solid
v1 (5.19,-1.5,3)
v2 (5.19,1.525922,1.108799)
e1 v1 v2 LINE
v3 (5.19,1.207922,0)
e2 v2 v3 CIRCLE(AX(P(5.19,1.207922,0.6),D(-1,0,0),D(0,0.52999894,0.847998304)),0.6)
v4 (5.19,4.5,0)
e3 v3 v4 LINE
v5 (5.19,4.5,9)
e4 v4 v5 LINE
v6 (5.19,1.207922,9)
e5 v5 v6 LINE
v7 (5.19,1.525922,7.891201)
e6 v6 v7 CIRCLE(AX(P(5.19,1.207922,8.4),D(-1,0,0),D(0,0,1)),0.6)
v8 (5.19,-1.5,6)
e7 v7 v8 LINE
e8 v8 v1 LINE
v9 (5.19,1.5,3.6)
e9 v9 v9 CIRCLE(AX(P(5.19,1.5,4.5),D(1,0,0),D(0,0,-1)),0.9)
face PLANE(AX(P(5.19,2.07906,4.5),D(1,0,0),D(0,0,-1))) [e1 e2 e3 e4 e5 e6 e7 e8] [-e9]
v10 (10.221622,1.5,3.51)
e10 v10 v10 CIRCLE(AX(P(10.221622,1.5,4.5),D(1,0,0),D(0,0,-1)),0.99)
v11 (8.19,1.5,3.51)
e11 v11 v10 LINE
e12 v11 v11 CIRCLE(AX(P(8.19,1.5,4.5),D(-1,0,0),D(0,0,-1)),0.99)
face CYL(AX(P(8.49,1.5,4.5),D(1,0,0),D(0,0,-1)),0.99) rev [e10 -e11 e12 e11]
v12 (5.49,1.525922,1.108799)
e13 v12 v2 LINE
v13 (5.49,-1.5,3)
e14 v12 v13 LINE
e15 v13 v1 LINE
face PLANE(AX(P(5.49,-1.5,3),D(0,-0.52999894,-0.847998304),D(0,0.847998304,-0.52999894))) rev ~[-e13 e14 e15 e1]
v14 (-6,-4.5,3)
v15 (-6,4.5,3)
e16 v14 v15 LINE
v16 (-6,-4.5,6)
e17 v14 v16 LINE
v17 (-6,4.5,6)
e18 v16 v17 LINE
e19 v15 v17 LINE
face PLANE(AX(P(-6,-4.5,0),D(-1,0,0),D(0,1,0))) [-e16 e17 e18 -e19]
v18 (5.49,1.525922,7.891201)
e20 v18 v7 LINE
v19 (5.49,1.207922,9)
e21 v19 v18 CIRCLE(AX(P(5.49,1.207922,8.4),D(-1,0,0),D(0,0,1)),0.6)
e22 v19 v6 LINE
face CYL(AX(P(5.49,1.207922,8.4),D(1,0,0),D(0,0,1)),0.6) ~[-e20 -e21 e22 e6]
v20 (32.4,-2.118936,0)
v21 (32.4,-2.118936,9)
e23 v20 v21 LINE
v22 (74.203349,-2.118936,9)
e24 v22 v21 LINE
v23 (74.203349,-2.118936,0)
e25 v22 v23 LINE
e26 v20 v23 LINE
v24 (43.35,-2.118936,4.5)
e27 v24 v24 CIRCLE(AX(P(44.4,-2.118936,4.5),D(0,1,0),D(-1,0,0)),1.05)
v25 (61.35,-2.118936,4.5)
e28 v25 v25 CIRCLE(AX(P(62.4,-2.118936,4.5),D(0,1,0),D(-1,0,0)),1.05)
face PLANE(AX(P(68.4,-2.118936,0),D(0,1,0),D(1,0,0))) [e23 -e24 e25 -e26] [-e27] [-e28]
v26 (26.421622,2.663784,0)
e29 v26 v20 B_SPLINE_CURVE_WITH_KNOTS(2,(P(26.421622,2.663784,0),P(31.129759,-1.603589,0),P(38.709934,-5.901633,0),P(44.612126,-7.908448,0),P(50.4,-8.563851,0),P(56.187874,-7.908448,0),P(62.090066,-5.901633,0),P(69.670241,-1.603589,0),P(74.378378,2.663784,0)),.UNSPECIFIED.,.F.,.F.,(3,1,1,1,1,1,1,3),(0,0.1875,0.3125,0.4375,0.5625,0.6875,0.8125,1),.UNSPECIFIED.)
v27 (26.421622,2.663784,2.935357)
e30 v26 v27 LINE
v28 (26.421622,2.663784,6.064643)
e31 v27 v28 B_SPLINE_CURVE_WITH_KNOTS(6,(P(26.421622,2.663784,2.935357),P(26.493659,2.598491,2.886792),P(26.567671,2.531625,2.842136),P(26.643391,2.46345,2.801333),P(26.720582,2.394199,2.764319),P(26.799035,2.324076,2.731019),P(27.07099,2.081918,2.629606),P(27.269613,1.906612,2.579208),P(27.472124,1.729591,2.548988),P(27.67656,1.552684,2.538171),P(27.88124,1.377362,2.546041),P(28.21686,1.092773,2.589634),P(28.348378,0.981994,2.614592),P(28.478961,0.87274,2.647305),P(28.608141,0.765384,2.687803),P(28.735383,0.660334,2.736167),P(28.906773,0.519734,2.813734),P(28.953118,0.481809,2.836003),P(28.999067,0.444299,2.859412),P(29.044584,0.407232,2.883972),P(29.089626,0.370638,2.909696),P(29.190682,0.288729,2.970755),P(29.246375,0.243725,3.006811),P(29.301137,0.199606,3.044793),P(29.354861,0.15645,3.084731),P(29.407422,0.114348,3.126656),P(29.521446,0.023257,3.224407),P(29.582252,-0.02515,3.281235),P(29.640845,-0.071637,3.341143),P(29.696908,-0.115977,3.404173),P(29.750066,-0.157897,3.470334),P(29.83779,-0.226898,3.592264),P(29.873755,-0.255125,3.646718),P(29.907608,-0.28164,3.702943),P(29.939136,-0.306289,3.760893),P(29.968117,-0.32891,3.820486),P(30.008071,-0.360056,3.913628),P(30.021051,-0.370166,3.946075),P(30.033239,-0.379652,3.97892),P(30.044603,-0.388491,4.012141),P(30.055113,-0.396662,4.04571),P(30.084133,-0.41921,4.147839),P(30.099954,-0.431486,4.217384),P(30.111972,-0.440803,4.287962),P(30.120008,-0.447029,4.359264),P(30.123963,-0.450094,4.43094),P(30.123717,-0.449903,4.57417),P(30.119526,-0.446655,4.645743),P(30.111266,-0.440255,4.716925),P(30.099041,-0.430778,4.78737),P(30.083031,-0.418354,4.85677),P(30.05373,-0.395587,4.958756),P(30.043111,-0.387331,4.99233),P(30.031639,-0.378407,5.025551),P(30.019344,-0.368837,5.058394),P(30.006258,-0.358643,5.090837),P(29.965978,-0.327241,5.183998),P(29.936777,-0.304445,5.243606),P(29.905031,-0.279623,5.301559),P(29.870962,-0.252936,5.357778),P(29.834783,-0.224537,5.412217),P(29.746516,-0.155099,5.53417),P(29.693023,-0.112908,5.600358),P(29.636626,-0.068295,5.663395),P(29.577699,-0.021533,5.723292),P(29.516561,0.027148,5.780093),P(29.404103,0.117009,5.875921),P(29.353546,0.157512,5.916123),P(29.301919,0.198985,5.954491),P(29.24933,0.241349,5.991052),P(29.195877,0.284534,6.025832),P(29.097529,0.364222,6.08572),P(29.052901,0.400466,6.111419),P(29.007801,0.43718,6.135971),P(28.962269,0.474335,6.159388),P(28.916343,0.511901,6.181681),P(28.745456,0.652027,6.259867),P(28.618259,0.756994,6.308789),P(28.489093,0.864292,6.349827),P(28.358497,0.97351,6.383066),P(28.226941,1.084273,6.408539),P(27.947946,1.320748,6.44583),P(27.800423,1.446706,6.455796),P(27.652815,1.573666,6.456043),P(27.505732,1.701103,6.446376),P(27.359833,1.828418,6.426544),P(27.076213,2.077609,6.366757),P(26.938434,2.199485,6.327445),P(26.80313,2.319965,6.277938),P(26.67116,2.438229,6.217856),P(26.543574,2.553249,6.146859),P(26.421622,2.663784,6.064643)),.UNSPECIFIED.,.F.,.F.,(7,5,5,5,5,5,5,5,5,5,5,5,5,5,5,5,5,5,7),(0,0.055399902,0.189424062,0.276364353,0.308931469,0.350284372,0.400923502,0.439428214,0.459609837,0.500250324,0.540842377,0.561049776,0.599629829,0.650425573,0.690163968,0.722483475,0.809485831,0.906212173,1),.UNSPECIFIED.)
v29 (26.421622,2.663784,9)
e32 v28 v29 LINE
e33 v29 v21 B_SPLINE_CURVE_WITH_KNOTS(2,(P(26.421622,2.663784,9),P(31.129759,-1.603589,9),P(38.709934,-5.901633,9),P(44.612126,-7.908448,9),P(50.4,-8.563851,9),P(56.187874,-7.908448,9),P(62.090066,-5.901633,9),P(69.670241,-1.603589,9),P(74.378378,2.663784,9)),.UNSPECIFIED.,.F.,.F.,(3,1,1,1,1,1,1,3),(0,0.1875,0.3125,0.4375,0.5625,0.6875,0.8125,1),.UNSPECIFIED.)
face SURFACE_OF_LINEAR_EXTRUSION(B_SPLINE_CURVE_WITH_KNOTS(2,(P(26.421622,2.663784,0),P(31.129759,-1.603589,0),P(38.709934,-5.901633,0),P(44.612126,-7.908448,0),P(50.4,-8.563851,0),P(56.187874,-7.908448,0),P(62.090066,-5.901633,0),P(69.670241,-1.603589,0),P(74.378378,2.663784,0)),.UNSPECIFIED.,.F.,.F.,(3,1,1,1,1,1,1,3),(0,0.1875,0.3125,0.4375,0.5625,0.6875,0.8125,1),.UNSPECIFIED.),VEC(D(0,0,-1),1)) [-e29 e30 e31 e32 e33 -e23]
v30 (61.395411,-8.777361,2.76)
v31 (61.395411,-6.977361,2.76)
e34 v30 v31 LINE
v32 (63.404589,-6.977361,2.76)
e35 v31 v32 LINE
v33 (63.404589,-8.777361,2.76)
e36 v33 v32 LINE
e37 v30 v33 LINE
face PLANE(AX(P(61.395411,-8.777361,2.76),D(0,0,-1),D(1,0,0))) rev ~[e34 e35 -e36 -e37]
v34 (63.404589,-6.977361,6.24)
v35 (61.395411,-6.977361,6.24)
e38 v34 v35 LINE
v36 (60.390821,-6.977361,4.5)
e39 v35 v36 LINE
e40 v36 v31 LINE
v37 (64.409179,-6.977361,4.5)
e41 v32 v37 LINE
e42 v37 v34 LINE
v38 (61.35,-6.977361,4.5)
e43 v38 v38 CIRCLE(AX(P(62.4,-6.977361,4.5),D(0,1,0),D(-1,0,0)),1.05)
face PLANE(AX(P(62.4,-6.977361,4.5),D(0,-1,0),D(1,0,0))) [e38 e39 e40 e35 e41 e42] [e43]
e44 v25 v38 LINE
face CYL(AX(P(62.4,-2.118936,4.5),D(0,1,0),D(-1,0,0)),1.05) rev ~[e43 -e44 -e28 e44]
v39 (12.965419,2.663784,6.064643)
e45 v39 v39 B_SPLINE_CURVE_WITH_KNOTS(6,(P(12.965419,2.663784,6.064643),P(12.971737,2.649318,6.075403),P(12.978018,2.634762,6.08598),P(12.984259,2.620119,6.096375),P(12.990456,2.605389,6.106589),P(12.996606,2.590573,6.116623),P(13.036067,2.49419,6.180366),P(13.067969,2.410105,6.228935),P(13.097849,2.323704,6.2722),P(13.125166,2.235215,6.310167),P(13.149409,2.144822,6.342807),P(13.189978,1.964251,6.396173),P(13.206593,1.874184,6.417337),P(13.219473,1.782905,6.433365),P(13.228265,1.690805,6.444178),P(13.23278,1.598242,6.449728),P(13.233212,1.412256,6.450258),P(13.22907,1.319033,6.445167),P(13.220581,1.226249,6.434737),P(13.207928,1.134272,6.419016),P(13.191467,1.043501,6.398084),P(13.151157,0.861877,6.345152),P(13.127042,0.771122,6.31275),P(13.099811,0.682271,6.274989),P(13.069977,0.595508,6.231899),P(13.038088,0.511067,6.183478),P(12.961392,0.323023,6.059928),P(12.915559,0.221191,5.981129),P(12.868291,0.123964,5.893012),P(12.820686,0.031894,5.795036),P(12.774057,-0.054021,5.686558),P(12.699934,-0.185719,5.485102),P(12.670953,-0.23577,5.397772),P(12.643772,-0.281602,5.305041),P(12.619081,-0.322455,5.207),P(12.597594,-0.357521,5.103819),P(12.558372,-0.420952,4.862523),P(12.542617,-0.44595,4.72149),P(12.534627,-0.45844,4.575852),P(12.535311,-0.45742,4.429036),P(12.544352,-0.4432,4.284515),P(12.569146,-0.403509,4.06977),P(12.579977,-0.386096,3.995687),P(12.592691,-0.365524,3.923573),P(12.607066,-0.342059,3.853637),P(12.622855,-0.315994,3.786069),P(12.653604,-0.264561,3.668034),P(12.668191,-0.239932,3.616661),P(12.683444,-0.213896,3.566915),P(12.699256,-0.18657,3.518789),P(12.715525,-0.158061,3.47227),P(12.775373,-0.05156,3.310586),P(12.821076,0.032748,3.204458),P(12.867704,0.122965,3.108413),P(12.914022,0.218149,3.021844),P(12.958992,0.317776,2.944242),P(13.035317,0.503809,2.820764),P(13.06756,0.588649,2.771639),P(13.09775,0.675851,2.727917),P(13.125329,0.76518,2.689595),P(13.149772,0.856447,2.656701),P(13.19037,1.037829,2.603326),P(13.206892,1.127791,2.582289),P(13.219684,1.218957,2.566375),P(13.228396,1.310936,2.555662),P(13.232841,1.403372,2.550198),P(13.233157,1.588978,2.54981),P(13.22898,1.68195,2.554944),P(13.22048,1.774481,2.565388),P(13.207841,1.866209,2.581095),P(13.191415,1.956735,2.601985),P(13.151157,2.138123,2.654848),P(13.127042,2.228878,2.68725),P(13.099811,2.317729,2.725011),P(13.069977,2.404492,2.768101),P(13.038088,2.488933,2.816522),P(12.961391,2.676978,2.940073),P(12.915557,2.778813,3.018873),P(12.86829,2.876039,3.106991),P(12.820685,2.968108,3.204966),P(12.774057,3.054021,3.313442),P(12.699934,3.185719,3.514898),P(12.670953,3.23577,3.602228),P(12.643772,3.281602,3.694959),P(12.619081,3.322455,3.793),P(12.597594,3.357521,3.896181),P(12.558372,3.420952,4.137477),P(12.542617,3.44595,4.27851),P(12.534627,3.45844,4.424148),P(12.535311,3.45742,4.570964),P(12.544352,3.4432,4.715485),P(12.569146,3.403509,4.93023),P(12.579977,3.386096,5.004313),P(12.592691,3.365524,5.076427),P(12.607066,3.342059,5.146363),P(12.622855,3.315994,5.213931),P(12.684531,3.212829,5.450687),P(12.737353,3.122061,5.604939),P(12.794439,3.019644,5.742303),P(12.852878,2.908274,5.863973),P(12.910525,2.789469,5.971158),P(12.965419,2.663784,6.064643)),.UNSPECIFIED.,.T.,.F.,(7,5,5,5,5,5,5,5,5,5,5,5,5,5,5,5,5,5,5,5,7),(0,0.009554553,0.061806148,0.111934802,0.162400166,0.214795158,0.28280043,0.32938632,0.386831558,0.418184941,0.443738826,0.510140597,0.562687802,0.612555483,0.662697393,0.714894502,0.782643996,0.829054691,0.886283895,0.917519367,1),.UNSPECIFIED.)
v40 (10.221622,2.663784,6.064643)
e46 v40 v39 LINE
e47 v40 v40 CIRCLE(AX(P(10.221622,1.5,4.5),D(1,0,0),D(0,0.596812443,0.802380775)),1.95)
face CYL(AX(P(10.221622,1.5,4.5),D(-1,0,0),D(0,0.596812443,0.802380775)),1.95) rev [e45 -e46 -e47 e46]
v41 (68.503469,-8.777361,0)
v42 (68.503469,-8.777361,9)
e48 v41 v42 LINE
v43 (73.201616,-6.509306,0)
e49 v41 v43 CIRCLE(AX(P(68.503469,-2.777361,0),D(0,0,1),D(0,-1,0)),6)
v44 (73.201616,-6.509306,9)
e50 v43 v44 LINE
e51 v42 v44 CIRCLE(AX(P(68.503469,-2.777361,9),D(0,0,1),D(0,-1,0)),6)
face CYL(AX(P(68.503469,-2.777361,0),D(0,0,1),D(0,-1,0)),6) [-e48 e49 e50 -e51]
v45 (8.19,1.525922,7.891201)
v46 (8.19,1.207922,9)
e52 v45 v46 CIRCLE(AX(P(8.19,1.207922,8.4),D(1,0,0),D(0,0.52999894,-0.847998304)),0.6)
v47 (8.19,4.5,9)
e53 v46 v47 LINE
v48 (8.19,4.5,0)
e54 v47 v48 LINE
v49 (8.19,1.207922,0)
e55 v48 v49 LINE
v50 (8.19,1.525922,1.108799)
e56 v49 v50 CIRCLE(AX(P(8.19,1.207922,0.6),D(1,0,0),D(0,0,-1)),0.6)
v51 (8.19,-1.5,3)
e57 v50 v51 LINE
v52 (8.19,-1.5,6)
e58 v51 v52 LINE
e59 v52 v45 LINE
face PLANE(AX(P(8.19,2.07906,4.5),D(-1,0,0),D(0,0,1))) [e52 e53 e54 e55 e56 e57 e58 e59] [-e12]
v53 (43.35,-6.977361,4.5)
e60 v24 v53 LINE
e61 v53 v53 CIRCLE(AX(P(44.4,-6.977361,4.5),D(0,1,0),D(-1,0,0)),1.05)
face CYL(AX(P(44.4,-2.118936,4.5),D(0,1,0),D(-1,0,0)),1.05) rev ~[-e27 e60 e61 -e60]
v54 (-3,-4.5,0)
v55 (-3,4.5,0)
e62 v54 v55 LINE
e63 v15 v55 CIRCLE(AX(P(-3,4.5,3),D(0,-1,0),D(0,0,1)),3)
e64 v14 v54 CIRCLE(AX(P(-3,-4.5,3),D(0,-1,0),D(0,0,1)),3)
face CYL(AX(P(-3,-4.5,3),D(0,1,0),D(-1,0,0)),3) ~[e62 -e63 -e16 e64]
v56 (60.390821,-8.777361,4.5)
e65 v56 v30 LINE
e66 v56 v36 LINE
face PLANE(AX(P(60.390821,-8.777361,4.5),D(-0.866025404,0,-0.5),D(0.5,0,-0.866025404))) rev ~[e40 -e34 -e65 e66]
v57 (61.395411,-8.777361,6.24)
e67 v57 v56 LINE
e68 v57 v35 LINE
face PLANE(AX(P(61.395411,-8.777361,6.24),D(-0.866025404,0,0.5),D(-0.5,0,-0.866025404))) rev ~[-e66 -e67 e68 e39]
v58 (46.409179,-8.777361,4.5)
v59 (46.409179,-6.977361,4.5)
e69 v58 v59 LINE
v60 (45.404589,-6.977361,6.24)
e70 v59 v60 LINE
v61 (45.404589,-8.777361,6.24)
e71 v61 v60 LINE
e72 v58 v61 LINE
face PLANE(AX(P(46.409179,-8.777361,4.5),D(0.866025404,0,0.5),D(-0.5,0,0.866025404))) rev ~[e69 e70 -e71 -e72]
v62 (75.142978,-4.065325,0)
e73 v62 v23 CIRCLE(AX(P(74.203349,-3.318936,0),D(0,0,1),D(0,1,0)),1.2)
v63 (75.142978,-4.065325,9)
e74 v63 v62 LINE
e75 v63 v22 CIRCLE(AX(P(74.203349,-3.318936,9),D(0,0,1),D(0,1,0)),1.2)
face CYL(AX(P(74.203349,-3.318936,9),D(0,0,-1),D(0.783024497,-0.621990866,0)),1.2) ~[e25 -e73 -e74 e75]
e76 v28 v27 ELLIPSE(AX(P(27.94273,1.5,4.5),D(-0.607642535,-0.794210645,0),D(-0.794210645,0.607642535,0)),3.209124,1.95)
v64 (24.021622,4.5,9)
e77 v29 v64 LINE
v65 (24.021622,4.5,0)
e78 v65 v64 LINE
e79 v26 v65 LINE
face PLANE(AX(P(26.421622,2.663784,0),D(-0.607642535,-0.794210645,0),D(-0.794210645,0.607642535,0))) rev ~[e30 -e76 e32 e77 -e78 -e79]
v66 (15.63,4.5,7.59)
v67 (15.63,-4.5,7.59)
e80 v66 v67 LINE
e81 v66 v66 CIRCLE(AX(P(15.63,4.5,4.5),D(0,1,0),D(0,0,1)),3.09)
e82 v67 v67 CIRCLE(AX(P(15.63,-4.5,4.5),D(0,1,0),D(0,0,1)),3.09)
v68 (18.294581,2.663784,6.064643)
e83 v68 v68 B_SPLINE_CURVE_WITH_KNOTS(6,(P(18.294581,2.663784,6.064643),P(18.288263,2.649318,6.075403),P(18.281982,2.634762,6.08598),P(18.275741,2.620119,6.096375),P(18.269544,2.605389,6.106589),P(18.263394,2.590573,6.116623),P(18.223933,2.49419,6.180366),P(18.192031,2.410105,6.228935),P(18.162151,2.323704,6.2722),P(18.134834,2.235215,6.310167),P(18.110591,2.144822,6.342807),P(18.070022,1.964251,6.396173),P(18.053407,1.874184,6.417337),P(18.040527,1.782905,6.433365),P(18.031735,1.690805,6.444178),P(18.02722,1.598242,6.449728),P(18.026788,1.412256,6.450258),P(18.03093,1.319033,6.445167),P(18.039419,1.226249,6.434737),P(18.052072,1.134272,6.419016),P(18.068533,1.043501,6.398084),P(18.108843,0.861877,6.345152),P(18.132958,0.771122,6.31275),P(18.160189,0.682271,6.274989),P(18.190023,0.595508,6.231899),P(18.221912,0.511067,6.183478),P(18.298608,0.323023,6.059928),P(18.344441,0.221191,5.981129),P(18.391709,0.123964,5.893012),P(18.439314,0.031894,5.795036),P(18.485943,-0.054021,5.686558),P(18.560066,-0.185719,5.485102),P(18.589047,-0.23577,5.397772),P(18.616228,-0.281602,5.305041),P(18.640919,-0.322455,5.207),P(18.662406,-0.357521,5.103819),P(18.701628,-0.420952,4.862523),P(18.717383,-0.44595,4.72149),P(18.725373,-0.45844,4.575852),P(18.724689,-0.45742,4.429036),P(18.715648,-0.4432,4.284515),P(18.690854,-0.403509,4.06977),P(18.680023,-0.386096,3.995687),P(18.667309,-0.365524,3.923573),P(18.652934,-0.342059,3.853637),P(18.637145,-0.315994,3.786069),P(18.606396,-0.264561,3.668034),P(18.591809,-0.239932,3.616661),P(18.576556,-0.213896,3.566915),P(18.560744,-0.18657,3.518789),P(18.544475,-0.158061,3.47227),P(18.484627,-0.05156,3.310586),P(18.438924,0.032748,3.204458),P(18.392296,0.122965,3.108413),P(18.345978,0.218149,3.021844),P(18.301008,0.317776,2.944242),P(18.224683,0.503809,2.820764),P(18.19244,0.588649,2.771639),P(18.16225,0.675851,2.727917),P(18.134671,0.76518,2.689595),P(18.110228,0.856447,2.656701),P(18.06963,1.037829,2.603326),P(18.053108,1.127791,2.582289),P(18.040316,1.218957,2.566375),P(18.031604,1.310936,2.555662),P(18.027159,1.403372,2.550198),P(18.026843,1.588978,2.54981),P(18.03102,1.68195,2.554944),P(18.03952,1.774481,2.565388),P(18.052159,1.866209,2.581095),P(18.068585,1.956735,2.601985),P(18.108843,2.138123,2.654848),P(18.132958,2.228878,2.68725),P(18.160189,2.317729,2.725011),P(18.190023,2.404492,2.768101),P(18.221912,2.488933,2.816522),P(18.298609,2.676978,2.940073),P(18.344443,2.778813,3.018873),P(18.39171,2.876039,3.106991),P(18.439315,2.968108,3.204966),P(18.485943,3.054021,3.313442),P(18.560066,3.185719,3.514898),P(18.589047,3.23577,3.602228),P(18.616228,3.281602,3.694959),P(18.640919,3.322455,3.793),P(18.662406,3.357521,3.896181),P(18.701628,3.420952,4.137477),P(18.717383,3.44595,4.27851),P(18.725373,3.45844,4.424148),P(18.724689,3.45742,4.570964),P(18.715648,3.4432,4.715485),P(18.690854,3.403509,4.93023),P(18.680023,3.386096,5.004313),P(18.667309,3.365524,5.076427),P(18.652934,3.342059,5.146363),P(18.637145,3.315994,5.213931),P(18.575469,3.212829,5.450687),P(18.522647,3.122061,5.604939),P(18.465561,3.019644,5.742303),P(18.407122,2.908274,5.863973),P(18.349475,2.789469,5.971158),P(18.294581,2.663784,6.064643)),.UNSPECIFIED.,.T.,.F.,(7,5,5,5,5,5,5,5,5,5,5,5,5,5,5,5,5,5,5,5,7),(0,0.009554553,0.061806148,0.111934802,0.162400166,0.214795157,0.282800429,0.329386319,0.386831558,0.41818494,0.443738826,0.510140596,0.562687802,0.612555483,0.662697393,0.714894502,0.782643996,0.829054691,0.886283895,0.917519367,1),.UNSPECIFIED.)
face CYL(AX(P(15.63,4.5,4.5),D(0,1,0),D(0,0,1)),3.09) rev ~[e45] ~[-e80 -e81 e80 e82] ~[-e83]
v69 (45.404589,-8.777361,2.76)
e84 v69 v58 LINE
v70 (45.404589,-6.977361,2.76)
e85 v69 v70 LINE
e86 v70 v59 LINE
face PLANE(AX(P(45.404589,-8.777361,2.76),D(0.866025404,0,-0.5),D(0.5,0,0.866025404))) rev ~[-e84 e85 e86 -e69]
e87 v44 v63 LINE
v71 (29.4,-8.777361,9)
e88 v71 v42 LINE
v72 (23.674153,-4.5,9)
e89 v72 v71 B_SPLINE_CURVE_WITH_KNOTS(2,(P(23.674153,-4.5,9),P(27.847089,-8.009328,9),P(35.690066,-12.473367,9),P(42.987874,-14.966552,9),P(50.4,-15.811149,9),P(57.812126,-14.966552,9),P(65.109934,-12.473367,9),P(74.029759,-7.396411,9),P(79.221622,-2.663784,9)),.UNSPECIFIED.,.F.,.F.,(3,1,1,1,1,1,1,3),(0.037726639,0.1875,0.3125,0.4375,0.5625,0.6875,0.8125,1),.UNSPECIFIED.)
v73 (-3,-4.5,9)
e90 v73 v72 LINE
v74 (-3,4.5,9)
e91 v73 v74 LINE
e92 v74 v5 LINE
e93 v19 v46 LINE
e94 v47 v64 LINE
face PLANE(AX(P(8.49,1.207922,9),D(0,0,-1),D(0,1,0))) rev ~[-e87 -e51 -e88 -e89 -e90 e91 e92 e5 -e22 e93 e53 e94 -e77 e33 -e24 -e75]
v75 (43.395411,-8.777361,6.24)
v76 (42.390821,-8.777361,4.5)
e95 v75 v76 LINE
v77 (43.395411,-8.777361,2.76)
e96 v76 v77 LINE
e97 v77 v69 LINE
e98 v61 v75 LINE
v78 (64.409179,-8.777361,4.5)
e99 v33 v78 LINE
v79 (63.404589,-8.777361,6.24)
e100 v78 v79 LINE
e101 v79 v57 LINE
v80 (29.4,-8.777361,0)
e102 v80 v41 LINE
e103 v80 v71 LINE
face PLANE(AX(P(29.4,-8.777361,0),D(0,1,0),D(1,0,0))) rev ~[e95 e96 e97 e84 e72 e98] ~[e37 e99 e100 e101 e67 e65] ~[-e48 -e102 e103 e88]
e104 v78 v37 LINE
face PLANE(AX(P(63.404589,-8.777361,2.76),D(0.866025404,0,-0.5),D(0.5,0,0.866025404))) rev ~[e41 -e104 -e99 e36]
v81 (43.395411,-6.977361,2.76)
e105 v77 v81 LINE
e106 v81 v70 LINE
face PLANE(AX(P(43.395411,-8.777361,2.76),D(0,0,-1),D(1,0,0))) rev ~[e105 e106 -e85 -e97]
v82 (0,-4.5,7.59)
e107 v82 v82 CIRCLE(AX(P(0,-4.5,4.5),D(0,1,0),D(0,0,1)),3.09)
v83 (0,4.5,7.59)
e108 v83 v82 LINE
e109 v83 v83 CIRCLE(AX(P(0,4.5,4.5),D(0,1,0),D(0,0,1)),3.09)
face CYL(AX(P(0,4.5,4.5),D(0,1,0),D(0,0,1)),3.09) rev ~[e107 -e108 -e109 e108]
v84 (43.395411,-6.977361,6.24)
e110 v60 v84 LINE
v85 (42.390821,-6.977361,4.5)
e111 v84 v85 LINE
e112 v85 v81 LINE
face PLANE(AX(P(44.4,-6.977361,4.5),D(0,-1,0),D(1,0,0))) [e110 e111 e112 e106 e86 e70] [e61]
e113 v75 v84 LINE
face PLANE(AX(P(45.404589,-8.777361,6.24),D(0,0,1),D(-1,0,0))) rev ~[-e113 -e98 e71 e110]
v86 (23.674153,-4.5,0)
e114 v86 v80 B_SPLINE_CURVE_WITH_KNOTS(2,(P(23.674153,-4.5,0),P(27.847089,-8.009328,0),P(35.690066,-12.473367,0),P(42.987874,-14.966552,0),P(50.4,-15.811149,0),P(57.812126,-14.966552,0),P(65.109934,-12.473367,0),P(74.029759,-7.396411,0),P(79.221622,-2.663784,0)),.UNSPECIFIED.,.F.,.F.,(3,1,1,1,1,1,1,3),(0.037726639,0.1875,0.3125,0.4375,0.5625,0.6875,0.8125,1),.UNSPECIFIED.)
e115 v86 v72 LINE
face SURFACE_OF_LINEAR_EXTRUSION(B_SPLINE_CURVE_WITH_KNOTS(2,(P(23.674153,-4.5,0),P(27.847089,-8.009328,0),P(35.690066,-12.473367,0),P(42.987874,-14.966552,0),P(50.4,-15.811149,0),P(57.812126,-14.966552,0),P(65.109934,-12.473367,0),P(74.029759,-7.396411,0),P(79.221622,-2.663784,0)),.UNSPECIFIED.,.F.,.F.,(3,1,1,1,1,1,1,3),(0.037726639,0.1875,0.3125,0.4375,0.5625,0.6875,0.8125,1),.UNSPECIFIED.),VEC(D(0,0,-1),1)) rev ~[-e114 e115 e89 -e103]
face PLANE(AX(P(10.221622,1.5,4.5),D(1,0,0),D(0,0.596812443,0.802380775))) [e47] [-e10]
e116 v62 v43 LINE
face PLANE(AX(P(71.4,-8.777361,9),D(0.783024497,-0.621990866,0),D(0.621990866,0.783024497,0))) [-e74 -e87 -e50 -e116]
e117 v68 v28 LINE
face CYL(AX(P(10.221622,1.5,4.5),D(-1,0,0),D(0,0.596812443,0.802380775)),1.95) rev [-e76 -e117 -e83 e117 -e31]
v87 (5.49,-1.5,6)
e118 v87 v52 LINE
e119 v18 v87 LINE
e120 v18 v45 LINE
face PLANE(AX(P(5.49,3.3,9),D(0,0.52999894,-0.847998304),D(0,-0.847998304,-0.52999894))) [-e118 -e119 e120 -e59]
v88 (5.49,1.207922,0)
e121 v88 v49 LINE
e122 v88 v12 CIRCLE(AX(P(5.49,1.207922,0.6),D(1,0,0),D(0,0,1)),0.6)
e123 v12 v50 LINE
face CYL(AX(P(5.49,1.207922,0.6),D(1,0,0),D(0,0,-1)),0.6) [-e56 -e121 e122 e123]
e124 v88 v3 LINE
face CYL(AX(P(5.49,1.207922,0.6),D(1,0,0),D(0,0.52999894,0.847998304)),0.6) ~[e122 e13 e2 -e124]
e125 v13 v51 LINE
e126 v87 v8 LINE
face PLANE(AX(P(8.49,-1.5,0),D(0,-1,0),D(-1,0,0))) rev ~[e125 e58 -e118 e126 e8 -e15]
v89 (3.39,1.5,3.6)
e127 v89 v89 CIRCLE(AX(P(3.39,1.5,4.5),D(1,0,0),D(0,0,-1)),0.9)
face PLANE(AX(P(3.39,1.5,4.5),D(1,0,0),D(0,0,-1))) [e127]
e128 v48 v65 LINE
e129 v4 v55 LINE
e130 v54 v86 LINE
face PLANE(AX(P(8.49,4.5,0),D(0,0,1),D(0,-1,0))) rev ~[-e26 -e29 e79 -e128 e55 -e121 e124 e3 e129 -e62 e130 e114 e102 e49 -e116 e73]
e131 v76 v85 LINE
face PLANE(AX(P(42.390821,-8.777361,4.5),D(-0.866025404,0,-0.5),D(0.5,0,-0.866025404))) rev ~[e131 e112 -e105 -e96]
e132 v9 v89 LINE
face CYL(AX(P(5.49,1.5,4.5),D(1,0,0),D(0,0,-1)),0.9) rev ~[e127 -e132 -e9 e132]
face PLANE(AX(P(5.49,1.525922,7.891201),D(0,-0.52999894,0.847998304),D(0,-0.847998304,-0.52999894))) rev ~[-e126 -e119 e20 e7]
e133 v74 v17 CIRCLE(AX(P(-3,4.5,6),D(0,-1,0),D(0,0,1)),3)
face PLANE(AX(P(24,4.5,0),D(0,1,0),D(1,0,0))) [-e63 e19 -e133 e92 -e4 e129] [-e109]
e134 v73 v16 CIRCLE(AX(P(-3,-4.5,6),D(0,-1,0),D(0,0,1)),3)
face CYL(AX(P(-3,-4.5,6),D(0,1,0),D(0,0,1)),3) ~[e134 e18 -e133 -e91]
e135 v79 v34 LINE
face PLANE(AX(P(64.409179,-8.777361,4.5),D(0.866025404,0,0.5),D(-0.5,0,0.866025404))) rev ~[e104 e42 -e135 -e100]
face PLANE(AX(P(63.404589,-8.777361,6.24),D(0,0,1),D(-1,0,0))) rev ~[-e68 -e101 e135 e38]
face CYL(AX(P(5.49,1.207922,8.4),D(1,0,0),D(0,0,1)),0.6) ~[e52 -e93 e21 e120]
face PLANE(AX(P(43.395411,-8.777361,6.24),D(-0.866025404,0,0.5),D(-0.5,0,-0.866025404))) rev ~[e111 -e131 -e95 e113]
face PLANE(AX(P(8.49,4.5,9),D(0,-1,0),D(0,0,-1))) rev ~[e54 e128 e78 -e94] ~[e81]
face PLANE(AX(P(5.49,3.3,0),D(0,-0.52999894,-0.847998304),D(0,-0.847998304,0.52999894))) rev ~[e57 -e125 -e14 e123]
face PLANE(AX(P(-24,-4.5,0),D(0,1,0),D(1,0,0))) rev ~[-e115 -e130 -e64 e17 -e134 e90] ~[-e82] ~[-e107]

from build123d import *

# Parameters (mm, degrees)
EXTRUDE_1_DEPTH          = 15
SKETCH_2_R               = 5.15
CUT_EXTRUDE_1_DEPTH      = 15
EXTRUDE_3_DEPTH          = 15
SKETCH_5_W               = 5
SKETCH_5_H               = 10
CUT_EXTRUDE_3_DEPTH      = 15
CUT_EXTRUDE_4_DEPTH      = 15
CUT_EXTRUDE_4_DEPTH_BACK = 27
SKETCH_6_R               = 3.25
SKETCH_7_R               = 1.5
CUT_EXTRUDE_5_DEPTH      = 3.5
CUT_EXTRUDE_7_DEPTH      = 15
EXTRUDE_4_REACH          = 135.688
SKETCH_12_R              = 1.75
CUT_EXTRUDE_9_DEPTH      = 50
CUT_EXTRUDE_10_DEPTH     = 3
SKETCH_14_R              = 1.65
CUT_EXTRUDE_11_DEPTH     = 5
SKETCH_15_R              = 5.15
CUT_EXTRUDE_12_DEPTH     = 15
CUT_EXTRUDE_13_DEPTH     = 15
CUT_EXTRUDE_14_DEPTH     = 15
SKETCH_18_W              = 30
SKETCH_18_H              = 15
CUT_EXTRUDE_15_DEPTH     = 15
CUT_EXTRUDE_16_DEPTH     = 135
FILLET_3_R               = 10
FILLET_4_R               = 2
FILLET_5_R               = 5
EXTRUDE_5_DEPTH          = 5
FILLET_6_R               = 1
CUT_EXTRUDE_17_DEPTH     = 0.5
SKETCH_22_R              = 1.65
EXTRUDE_6_DEPTH          = 0.5
SCALE_1_SCALE            = 0.6


with BuildPart() as part:
    # 草图1 → 凸台-拉伸1 (new body)
    with BuildSketch(Plane.XY):
        with BuildLine():
            Line((40, 7.5), (-40, 7.5))
            Line((-40, 7.5), (-40, -7.5))
            Line((-40, -7.5), (39.456922296, -7.5))
            add(Edge.make_bspline(
                [(39.456922296, -7.5), (46.411815441, -13.348879485), (59.483442953, -20.788944656), (71.646457346, -24.94425278), (84, -26.35191574), (96.353542654, -24.94425278), (108.516557047, -20.788944656), (123.382931224, -12.327351589), (132.036036764, -4.43964044)],
                knots=[0.037726639, 0.037726639, 0.037726639, 0.1875, 0.3125, 0.4375, 0.5625, 0.6875, 0.8125, 1, 1, 1], degree=2))
            Line((132.036036764, -4.43964044), (123.963963236, 4.43964044))
            add(Edge.make_bspline(
                [(44.036036764, 4.43964044), (51.882931224, -2.672648411), (64.516557047, -9.836055344), (74.353542654, -13.18074722), (84, -14.27308426), (93.646457346, -13.18074722), (103.483442953, -9.836055344), (116.117068776, -2.672648411), (123.963963236, 4.43964044)],
                knots=[0, 0, 0, 0.1875, 0.3125, 0.4375, 0.5625, 0.6875, 0.8125, 1, 1, 1], degree=2))
            Line((44.036036764, 4.43964044), (40, 7.5))
        make_face()
    extrude(amount=EXTRUDE_1_DEPTH)

    # 草图2 → 切除-拉伸1 (cut)
    with BuildSketch(Plane(origin=(0, 7.5, 0), x_dir=(1, 0, 0), z_dir=(0, 1, 0))):
        with Locations(Location((0, -7.5, 0), (0, 0, 270))):
            Circle(SKETCH_2_R)
    extrude(amount=-CUT_EXTRUDE_1_DEPTH, mode=Mode.SUBTRACT)

    # 草图4 → 凸台-拉伸3 (add)
    with BuildSketch(Plane(origin=(0, 0, 0), x_dir=(-1, 0, 0), z_dir=(0, 0, -1))):
        Polygon((-40, 7.5), (-44.036036764, 7.5), (-44.036036764, 4.43964044), align=None)
    extrude(amount=-EXTRUDE_3_DEPTH)

    # 草图5 → 切除-拉伸3 (cut)
    with BuildSketch(Plane(origin=(0, 0, 0), x_dir=(-1, 0, 0), z_dir=(0, 0, -1))):
        with Locations((-11.65, 2.5)):
            Rectangle(SKETCH_5_W, SKETCH_5_H)
    extrude(amount=-CUT_EXTRUDE_3_DEPTH, mode=Mode.SUBTRACT)

    # 草图6 → 切除-拉伸4 (cut, two sides: drawn at the far end of the back side and taken through both)
    with BuildSketch(Plane(origin=(44.036036764, 0, 0), x_dir=(0, 0, -1), z_dir=(1, 0, 0)).offset(-CUT_EXTRUDE_4_DEPTH_BACK)):
        with Locations(Location((-7.5, 2.5, 0), (0, 0, 143.358054803))):
            Circle(SKETCH_6_R)
    extrude(amount=CUT_EXTRUDE_4_DEPTH + CUT_EXTRUDE_4_DEPTH_BACK, mode=Mode.SUBTRACT)

    # 草图7 → 切除-拉伸5 (cut)
    with BuildSketch(Plane(origin=(9.15, 0, 0), x_dir=(0, 0, -1), z_dir=(1, 0, 0))):
        with Locations((-7.5, 2.5)):
            Circle(SKETCH_7_R)
    extrude(amount=-CUT_EXTRUDE_5_DEPTH, mode=Mode.SUBTRACT)

    # 草图9 → 切除-拉伸7 (cut)
    with BuildSketch(Plane(origin=(0, 0, 0), x_dir=(-1, 0, 0), z_dir=(0, 0, -1))):
        with BuildLine():
            Line((-49, -14.628935139), (-119, -14.628935139))
            add(Edge.make_bspline(
                [(-49, -14.628935139), (-51.259755236, -16.108213622), (-59.483442953, -20.788944656), (-71.646457346, -24.94425278), (-84, -26.35191574), (-96.353542654, -24.94425278), (-108.516557047, -20.788944656), (-116.740244764, -16.108213622), (-119, -14.628935139)],
                knots=[0.139633208, 0.139633208, 0.139633208, 0.1875, 0.3125, 0.4375, 0.5625, 0.6875, 0.8125, 0.860366792, 0.860366792, 0.860366792], degree=2))
        make_face()
    extrude(amount=-CUT_EXTRUDE_7_DEPTH, mode=Mode.SUBTRACT)

    # 凸台-拉伸4: up to this face of the body (flat: up to its plane)
    extrude_4_end = Plane(part.part.faces().sort_by_distance((30.242148565, -2.823725013, 15))[0])
    # 草图10 → 凸台-拉伸4 (add, up to the picked face)
    with BuildSketch(Plane(origin=(0, 0, 0), x_dir=(-1, 0, 0), z_dir=(0, 0, -1)), mode=Mode.PRIVATE) as extrude_4_sk1:
        with BuildLine():
            Line((-114, -3.531559291), (-54, -3.531559291))
            add(Edge.make_bspline(
                [(-54, -3.531559291), (-56.748654683, -5.431567952), (-64.516557047, -9.836055344), (-74.353542654, -13.18074722), (-84, -14.27308426), (-93.646457346, -13.18074722), (-103.483442953, -9.836055344), (-111.251345317, -5.431567952), (-114, -3.531559291)],
                knots=[0.120356468, 0.120356468, 0.120356468, 0.1875, 0.3125, 0.4375, 0.5625, 0.6875, 0.8125, 0.879643532, 0.879643532, 0.879643532], degree=2))
        make_face()
    extrude_4_tool1 = split(extrude(extrude_4_sk1.sketch, amount=-EXTRUDE_4_REACH, mode=Mode.PRIVATE), bisect_by=extrude_4_end, keep=Keep.BOTH, mode=Mode.PRIVATE)
    add(extrude_4_tool1.solids().sort_by(Axis((84, -7.71433, 0), (0, 0, 1)))[0])

    # 草图12 → 切除-拉伸9 (cut)
    with BuildSketch(Plane(origin=(0, -3.531559291, 0), x_dir=(1, 0, 0), z_dir=(0, 1, 0))):
        with Locations(Location((74.000000001, -7.5, 0), (0, 0, 180))):
            Circle(SKETCH_12_R)
        with Locations(Location((104.000000001, -7.5, 0), (0, 0, 180))):
            Circle(SKETCH_12_R)
    extrude(amount=-CUT_EXTRUDE_9_DEPTH, mode=Mode.SUBTRACT)

    # 草图13 → 切除-拉伸10 (cut)
    with BuildSketch(Plane.XZ.offset(14.628935139)):
        Polygon((75.674315782, 4.6), (77.348631563, 7.5), (75.674315782, 10.4), (72.325684221, 10.4), (70.65136844, 7.5), (72.325684221, 4.6), align=None)
        Polygon((105.674315782, 4.6), (107.348631563, 7.5), (105.674315782, 10.4), (102.325684221, 10.4), (100.65136844, 7.5), (102.325684221, 4.6), align=None)
    extrude(amount=-CUT_EXTRUDE_10_DEPTH, mode=Mode.SUBTRACT)

    # 草图14 → 切除-拉伸11 (cut)
    with BuildSketch(Plane(origin=(17.036036764, 0, 0), x_dir=(0, 0, -1), z_dir=(1, 0, 0))):
        with Locations((-7.5, 2.5)):
            Circle(SKETCH_14_R)
    extrude(amount=-CUT_EXTRUDE_11_DEPTH, mode=Mode.SUBTRACT)

    # 草图15 → 切除-拉伸12 (cut)
    with BuildSketch(Plane(origin=(0, 7.5, 0), x_dir=(1, 0, 0), z_dir=(0, 1, 0))):
        with Locations(Location((26.05, -7.5, 0), (0, 0, 270))):
            Circle(SKETCH_15_R)
    extrude(amount=-CUT_EXTRUDE_12_DEPTH, mode=Mode.SUBTRACT)

    # 草图16 → 切除-拉伸13 (cut)
    with BuildSketch(Plane(origin=(0, 0, 0), x_dir=(-1, 0, 0), z_dir=(0, 0, -1))):
        Polygon((-44.036036764, 4.43964044), (-40.036036764, 7.5), (-44.036036764, 7.5), align=None)
    extrude(amount=-CUT_EXTRUDE_13_DEPTH, mode=Mode.SUBTRACT)

    # 草图17 → 切除-拉伸14 (cut)
    with BuildSketch(Plane(origin=(0, 0, 0), x_dir=(-1, 0, 0), z_dir=(0, 0, -1))):
        Polygon((-114, -3.531559291), (-155.45087664, -3.531559291), (-96.986746886, 29.708253825), align=None)
    extrude(amount=-CUT_EXTRUDE_14_DEPTH, mode=Mode.SUBTRACT)

    # 草图18 → 切除-拉伸15 (cut)
    with BuildSketch(Plane(origin=(0, 0, 0), x_dir=(-1, 0, 0), z_dir=(0, 0, -1))):
        with Locations((25, 0)):
            Rectangle(SKETCH_18_W, SKETCH_18_H)
    extrude(amount=-CUT_EXTRUDE_15_DEPTH, mode=Mode.SUBTRACT)

    # 草图19 → 切除-拉伸16 (cut)
    with BuildSketch(Plane.XY.offset(15)):
        Polygon((119, -14.628935139), (127.815134708, -3.531559292), (136.052125617, -3.531559292), align=None)
    extrude(amount=-CUT_EXTRUDE_16_DEPTH, mode=Mode.SUBTRACT)

    # 圆角3
    fillet_3_edges = [part.edges().sort_by_distance(p)[0] for p in [
        (119, -14.628935139, 7.5),
    ]]
    fillet(fillet_3_edges, radius=FILLET_3_R)

    # 圆角4
    fillet_4_edges = [part.edges().sort_by_distance(p)[0] for p in [
        (127.815134708, -3.531559292, 7.5),
    ]]
    fillet(fillet_4_edges, radius=FILLET_4_R)

    # 圆角5
    fillet_5_edges = [part.edges().sort_by_distance(p)[0] for p in [
        (-10, 0, 15),
        (-10, 0, 0),
    ]]
    fillet(fillet_5_edges, radius=FILLET_5_R)

    # 草图20 → 凸台-拉伸5 (add)
    with BuildSketch(Plane(origin=(9.15, 0, 0), x_dir=(0, 0, -1), z_dir=(1, 0, 0))):
        Polygon((-10, -2.5), (-15, -2.5), (-15, 5.5), align=None)
        Polygon((0, 5.5), (-5, -2.5), (0, -2.5), align=None)
    extrude(amount=EXTRUDE_5_DEPTH)

    # 圆角6
    fillet_6_edges = [part.edges().sort_by_distance(p)[0] for p in [
        (11.65, 5.5, 15),
        (11.65, 5.5, 0),
    ]]
    fillet(fillet_6_edges, radius=FILLET_6_R)

    # 草图21 → 切除-拉伸17 (cut)
    with BuildSketch(Plane(origin=(9.15, 0, 0), x_dir=(0, 0, -1), z_dir=(1, 0, 0))):
        with BuildLine():
            Line((-5, -2.5), (-1.847998304, 2.543202714))
            ThreePointArc((-1.847998304, 2.543202714), (-0.724317487, 2.97445252), (0, 2.013203774))
            Line((0, 2.013203774), (0, 7.5))
            Line((0, 7.5), (-15, 7.5))
            Line((-15, 7.5), (-15, 2.013203774))
            ThreePointArc((-15, 2.013203774), (-14.275682513, 2.97445252), (-13.152001696, 2.543202714))
            Line((-13.152001696, 2.543202714), (-10, -2.5))
            Line((-10, -2.5), (-5, -2.5))
        make_face()
    extrude(amount=-CUT_EXTRUDE_17_DEPTH, mode=Mode.SUBTRACT)

    # 草图22 → 凸台-拉伸6 (add)
    with BuildSketch(Plane.ZY.offset(-14.15)):
        with BuildLine():
            Line((0, 7.5), (0, 2.013203774))
            ThreePointArc((0, 2.013203774), (0.724317487, 2.97445252), (1.847998304, 2.543202714))
            Line((1.847998304, 2.543202714), (5, -2.5))
            Line((5, -2.5), (10, -2.5))
            Line((10, -2.5), (13.152001696, 2.543202714))
            ThreePointArc((13.152001696, 2.543202714), (14.275682513, 2.97445252), (15, 2.013203774))
            Line((15, 2.013203774), (15, 7.5))
            Line((15, 7.5), (0, 7.5))
        make_face()
        with Locations(Location((7.5, 2.5, 0), (0, 0, 180))):
            Circle(SKETCH_22_R, mode=Mode.SUBTRACT)
    extrude(amount=EXTRUDE_6_DEPTH)


with BuildPart() as part_1:
    # 缩放比例1: scaled about (0, 0, 0)
    add(part.part.scale(SCALE_1_SCALE))


solid = part_1.part
